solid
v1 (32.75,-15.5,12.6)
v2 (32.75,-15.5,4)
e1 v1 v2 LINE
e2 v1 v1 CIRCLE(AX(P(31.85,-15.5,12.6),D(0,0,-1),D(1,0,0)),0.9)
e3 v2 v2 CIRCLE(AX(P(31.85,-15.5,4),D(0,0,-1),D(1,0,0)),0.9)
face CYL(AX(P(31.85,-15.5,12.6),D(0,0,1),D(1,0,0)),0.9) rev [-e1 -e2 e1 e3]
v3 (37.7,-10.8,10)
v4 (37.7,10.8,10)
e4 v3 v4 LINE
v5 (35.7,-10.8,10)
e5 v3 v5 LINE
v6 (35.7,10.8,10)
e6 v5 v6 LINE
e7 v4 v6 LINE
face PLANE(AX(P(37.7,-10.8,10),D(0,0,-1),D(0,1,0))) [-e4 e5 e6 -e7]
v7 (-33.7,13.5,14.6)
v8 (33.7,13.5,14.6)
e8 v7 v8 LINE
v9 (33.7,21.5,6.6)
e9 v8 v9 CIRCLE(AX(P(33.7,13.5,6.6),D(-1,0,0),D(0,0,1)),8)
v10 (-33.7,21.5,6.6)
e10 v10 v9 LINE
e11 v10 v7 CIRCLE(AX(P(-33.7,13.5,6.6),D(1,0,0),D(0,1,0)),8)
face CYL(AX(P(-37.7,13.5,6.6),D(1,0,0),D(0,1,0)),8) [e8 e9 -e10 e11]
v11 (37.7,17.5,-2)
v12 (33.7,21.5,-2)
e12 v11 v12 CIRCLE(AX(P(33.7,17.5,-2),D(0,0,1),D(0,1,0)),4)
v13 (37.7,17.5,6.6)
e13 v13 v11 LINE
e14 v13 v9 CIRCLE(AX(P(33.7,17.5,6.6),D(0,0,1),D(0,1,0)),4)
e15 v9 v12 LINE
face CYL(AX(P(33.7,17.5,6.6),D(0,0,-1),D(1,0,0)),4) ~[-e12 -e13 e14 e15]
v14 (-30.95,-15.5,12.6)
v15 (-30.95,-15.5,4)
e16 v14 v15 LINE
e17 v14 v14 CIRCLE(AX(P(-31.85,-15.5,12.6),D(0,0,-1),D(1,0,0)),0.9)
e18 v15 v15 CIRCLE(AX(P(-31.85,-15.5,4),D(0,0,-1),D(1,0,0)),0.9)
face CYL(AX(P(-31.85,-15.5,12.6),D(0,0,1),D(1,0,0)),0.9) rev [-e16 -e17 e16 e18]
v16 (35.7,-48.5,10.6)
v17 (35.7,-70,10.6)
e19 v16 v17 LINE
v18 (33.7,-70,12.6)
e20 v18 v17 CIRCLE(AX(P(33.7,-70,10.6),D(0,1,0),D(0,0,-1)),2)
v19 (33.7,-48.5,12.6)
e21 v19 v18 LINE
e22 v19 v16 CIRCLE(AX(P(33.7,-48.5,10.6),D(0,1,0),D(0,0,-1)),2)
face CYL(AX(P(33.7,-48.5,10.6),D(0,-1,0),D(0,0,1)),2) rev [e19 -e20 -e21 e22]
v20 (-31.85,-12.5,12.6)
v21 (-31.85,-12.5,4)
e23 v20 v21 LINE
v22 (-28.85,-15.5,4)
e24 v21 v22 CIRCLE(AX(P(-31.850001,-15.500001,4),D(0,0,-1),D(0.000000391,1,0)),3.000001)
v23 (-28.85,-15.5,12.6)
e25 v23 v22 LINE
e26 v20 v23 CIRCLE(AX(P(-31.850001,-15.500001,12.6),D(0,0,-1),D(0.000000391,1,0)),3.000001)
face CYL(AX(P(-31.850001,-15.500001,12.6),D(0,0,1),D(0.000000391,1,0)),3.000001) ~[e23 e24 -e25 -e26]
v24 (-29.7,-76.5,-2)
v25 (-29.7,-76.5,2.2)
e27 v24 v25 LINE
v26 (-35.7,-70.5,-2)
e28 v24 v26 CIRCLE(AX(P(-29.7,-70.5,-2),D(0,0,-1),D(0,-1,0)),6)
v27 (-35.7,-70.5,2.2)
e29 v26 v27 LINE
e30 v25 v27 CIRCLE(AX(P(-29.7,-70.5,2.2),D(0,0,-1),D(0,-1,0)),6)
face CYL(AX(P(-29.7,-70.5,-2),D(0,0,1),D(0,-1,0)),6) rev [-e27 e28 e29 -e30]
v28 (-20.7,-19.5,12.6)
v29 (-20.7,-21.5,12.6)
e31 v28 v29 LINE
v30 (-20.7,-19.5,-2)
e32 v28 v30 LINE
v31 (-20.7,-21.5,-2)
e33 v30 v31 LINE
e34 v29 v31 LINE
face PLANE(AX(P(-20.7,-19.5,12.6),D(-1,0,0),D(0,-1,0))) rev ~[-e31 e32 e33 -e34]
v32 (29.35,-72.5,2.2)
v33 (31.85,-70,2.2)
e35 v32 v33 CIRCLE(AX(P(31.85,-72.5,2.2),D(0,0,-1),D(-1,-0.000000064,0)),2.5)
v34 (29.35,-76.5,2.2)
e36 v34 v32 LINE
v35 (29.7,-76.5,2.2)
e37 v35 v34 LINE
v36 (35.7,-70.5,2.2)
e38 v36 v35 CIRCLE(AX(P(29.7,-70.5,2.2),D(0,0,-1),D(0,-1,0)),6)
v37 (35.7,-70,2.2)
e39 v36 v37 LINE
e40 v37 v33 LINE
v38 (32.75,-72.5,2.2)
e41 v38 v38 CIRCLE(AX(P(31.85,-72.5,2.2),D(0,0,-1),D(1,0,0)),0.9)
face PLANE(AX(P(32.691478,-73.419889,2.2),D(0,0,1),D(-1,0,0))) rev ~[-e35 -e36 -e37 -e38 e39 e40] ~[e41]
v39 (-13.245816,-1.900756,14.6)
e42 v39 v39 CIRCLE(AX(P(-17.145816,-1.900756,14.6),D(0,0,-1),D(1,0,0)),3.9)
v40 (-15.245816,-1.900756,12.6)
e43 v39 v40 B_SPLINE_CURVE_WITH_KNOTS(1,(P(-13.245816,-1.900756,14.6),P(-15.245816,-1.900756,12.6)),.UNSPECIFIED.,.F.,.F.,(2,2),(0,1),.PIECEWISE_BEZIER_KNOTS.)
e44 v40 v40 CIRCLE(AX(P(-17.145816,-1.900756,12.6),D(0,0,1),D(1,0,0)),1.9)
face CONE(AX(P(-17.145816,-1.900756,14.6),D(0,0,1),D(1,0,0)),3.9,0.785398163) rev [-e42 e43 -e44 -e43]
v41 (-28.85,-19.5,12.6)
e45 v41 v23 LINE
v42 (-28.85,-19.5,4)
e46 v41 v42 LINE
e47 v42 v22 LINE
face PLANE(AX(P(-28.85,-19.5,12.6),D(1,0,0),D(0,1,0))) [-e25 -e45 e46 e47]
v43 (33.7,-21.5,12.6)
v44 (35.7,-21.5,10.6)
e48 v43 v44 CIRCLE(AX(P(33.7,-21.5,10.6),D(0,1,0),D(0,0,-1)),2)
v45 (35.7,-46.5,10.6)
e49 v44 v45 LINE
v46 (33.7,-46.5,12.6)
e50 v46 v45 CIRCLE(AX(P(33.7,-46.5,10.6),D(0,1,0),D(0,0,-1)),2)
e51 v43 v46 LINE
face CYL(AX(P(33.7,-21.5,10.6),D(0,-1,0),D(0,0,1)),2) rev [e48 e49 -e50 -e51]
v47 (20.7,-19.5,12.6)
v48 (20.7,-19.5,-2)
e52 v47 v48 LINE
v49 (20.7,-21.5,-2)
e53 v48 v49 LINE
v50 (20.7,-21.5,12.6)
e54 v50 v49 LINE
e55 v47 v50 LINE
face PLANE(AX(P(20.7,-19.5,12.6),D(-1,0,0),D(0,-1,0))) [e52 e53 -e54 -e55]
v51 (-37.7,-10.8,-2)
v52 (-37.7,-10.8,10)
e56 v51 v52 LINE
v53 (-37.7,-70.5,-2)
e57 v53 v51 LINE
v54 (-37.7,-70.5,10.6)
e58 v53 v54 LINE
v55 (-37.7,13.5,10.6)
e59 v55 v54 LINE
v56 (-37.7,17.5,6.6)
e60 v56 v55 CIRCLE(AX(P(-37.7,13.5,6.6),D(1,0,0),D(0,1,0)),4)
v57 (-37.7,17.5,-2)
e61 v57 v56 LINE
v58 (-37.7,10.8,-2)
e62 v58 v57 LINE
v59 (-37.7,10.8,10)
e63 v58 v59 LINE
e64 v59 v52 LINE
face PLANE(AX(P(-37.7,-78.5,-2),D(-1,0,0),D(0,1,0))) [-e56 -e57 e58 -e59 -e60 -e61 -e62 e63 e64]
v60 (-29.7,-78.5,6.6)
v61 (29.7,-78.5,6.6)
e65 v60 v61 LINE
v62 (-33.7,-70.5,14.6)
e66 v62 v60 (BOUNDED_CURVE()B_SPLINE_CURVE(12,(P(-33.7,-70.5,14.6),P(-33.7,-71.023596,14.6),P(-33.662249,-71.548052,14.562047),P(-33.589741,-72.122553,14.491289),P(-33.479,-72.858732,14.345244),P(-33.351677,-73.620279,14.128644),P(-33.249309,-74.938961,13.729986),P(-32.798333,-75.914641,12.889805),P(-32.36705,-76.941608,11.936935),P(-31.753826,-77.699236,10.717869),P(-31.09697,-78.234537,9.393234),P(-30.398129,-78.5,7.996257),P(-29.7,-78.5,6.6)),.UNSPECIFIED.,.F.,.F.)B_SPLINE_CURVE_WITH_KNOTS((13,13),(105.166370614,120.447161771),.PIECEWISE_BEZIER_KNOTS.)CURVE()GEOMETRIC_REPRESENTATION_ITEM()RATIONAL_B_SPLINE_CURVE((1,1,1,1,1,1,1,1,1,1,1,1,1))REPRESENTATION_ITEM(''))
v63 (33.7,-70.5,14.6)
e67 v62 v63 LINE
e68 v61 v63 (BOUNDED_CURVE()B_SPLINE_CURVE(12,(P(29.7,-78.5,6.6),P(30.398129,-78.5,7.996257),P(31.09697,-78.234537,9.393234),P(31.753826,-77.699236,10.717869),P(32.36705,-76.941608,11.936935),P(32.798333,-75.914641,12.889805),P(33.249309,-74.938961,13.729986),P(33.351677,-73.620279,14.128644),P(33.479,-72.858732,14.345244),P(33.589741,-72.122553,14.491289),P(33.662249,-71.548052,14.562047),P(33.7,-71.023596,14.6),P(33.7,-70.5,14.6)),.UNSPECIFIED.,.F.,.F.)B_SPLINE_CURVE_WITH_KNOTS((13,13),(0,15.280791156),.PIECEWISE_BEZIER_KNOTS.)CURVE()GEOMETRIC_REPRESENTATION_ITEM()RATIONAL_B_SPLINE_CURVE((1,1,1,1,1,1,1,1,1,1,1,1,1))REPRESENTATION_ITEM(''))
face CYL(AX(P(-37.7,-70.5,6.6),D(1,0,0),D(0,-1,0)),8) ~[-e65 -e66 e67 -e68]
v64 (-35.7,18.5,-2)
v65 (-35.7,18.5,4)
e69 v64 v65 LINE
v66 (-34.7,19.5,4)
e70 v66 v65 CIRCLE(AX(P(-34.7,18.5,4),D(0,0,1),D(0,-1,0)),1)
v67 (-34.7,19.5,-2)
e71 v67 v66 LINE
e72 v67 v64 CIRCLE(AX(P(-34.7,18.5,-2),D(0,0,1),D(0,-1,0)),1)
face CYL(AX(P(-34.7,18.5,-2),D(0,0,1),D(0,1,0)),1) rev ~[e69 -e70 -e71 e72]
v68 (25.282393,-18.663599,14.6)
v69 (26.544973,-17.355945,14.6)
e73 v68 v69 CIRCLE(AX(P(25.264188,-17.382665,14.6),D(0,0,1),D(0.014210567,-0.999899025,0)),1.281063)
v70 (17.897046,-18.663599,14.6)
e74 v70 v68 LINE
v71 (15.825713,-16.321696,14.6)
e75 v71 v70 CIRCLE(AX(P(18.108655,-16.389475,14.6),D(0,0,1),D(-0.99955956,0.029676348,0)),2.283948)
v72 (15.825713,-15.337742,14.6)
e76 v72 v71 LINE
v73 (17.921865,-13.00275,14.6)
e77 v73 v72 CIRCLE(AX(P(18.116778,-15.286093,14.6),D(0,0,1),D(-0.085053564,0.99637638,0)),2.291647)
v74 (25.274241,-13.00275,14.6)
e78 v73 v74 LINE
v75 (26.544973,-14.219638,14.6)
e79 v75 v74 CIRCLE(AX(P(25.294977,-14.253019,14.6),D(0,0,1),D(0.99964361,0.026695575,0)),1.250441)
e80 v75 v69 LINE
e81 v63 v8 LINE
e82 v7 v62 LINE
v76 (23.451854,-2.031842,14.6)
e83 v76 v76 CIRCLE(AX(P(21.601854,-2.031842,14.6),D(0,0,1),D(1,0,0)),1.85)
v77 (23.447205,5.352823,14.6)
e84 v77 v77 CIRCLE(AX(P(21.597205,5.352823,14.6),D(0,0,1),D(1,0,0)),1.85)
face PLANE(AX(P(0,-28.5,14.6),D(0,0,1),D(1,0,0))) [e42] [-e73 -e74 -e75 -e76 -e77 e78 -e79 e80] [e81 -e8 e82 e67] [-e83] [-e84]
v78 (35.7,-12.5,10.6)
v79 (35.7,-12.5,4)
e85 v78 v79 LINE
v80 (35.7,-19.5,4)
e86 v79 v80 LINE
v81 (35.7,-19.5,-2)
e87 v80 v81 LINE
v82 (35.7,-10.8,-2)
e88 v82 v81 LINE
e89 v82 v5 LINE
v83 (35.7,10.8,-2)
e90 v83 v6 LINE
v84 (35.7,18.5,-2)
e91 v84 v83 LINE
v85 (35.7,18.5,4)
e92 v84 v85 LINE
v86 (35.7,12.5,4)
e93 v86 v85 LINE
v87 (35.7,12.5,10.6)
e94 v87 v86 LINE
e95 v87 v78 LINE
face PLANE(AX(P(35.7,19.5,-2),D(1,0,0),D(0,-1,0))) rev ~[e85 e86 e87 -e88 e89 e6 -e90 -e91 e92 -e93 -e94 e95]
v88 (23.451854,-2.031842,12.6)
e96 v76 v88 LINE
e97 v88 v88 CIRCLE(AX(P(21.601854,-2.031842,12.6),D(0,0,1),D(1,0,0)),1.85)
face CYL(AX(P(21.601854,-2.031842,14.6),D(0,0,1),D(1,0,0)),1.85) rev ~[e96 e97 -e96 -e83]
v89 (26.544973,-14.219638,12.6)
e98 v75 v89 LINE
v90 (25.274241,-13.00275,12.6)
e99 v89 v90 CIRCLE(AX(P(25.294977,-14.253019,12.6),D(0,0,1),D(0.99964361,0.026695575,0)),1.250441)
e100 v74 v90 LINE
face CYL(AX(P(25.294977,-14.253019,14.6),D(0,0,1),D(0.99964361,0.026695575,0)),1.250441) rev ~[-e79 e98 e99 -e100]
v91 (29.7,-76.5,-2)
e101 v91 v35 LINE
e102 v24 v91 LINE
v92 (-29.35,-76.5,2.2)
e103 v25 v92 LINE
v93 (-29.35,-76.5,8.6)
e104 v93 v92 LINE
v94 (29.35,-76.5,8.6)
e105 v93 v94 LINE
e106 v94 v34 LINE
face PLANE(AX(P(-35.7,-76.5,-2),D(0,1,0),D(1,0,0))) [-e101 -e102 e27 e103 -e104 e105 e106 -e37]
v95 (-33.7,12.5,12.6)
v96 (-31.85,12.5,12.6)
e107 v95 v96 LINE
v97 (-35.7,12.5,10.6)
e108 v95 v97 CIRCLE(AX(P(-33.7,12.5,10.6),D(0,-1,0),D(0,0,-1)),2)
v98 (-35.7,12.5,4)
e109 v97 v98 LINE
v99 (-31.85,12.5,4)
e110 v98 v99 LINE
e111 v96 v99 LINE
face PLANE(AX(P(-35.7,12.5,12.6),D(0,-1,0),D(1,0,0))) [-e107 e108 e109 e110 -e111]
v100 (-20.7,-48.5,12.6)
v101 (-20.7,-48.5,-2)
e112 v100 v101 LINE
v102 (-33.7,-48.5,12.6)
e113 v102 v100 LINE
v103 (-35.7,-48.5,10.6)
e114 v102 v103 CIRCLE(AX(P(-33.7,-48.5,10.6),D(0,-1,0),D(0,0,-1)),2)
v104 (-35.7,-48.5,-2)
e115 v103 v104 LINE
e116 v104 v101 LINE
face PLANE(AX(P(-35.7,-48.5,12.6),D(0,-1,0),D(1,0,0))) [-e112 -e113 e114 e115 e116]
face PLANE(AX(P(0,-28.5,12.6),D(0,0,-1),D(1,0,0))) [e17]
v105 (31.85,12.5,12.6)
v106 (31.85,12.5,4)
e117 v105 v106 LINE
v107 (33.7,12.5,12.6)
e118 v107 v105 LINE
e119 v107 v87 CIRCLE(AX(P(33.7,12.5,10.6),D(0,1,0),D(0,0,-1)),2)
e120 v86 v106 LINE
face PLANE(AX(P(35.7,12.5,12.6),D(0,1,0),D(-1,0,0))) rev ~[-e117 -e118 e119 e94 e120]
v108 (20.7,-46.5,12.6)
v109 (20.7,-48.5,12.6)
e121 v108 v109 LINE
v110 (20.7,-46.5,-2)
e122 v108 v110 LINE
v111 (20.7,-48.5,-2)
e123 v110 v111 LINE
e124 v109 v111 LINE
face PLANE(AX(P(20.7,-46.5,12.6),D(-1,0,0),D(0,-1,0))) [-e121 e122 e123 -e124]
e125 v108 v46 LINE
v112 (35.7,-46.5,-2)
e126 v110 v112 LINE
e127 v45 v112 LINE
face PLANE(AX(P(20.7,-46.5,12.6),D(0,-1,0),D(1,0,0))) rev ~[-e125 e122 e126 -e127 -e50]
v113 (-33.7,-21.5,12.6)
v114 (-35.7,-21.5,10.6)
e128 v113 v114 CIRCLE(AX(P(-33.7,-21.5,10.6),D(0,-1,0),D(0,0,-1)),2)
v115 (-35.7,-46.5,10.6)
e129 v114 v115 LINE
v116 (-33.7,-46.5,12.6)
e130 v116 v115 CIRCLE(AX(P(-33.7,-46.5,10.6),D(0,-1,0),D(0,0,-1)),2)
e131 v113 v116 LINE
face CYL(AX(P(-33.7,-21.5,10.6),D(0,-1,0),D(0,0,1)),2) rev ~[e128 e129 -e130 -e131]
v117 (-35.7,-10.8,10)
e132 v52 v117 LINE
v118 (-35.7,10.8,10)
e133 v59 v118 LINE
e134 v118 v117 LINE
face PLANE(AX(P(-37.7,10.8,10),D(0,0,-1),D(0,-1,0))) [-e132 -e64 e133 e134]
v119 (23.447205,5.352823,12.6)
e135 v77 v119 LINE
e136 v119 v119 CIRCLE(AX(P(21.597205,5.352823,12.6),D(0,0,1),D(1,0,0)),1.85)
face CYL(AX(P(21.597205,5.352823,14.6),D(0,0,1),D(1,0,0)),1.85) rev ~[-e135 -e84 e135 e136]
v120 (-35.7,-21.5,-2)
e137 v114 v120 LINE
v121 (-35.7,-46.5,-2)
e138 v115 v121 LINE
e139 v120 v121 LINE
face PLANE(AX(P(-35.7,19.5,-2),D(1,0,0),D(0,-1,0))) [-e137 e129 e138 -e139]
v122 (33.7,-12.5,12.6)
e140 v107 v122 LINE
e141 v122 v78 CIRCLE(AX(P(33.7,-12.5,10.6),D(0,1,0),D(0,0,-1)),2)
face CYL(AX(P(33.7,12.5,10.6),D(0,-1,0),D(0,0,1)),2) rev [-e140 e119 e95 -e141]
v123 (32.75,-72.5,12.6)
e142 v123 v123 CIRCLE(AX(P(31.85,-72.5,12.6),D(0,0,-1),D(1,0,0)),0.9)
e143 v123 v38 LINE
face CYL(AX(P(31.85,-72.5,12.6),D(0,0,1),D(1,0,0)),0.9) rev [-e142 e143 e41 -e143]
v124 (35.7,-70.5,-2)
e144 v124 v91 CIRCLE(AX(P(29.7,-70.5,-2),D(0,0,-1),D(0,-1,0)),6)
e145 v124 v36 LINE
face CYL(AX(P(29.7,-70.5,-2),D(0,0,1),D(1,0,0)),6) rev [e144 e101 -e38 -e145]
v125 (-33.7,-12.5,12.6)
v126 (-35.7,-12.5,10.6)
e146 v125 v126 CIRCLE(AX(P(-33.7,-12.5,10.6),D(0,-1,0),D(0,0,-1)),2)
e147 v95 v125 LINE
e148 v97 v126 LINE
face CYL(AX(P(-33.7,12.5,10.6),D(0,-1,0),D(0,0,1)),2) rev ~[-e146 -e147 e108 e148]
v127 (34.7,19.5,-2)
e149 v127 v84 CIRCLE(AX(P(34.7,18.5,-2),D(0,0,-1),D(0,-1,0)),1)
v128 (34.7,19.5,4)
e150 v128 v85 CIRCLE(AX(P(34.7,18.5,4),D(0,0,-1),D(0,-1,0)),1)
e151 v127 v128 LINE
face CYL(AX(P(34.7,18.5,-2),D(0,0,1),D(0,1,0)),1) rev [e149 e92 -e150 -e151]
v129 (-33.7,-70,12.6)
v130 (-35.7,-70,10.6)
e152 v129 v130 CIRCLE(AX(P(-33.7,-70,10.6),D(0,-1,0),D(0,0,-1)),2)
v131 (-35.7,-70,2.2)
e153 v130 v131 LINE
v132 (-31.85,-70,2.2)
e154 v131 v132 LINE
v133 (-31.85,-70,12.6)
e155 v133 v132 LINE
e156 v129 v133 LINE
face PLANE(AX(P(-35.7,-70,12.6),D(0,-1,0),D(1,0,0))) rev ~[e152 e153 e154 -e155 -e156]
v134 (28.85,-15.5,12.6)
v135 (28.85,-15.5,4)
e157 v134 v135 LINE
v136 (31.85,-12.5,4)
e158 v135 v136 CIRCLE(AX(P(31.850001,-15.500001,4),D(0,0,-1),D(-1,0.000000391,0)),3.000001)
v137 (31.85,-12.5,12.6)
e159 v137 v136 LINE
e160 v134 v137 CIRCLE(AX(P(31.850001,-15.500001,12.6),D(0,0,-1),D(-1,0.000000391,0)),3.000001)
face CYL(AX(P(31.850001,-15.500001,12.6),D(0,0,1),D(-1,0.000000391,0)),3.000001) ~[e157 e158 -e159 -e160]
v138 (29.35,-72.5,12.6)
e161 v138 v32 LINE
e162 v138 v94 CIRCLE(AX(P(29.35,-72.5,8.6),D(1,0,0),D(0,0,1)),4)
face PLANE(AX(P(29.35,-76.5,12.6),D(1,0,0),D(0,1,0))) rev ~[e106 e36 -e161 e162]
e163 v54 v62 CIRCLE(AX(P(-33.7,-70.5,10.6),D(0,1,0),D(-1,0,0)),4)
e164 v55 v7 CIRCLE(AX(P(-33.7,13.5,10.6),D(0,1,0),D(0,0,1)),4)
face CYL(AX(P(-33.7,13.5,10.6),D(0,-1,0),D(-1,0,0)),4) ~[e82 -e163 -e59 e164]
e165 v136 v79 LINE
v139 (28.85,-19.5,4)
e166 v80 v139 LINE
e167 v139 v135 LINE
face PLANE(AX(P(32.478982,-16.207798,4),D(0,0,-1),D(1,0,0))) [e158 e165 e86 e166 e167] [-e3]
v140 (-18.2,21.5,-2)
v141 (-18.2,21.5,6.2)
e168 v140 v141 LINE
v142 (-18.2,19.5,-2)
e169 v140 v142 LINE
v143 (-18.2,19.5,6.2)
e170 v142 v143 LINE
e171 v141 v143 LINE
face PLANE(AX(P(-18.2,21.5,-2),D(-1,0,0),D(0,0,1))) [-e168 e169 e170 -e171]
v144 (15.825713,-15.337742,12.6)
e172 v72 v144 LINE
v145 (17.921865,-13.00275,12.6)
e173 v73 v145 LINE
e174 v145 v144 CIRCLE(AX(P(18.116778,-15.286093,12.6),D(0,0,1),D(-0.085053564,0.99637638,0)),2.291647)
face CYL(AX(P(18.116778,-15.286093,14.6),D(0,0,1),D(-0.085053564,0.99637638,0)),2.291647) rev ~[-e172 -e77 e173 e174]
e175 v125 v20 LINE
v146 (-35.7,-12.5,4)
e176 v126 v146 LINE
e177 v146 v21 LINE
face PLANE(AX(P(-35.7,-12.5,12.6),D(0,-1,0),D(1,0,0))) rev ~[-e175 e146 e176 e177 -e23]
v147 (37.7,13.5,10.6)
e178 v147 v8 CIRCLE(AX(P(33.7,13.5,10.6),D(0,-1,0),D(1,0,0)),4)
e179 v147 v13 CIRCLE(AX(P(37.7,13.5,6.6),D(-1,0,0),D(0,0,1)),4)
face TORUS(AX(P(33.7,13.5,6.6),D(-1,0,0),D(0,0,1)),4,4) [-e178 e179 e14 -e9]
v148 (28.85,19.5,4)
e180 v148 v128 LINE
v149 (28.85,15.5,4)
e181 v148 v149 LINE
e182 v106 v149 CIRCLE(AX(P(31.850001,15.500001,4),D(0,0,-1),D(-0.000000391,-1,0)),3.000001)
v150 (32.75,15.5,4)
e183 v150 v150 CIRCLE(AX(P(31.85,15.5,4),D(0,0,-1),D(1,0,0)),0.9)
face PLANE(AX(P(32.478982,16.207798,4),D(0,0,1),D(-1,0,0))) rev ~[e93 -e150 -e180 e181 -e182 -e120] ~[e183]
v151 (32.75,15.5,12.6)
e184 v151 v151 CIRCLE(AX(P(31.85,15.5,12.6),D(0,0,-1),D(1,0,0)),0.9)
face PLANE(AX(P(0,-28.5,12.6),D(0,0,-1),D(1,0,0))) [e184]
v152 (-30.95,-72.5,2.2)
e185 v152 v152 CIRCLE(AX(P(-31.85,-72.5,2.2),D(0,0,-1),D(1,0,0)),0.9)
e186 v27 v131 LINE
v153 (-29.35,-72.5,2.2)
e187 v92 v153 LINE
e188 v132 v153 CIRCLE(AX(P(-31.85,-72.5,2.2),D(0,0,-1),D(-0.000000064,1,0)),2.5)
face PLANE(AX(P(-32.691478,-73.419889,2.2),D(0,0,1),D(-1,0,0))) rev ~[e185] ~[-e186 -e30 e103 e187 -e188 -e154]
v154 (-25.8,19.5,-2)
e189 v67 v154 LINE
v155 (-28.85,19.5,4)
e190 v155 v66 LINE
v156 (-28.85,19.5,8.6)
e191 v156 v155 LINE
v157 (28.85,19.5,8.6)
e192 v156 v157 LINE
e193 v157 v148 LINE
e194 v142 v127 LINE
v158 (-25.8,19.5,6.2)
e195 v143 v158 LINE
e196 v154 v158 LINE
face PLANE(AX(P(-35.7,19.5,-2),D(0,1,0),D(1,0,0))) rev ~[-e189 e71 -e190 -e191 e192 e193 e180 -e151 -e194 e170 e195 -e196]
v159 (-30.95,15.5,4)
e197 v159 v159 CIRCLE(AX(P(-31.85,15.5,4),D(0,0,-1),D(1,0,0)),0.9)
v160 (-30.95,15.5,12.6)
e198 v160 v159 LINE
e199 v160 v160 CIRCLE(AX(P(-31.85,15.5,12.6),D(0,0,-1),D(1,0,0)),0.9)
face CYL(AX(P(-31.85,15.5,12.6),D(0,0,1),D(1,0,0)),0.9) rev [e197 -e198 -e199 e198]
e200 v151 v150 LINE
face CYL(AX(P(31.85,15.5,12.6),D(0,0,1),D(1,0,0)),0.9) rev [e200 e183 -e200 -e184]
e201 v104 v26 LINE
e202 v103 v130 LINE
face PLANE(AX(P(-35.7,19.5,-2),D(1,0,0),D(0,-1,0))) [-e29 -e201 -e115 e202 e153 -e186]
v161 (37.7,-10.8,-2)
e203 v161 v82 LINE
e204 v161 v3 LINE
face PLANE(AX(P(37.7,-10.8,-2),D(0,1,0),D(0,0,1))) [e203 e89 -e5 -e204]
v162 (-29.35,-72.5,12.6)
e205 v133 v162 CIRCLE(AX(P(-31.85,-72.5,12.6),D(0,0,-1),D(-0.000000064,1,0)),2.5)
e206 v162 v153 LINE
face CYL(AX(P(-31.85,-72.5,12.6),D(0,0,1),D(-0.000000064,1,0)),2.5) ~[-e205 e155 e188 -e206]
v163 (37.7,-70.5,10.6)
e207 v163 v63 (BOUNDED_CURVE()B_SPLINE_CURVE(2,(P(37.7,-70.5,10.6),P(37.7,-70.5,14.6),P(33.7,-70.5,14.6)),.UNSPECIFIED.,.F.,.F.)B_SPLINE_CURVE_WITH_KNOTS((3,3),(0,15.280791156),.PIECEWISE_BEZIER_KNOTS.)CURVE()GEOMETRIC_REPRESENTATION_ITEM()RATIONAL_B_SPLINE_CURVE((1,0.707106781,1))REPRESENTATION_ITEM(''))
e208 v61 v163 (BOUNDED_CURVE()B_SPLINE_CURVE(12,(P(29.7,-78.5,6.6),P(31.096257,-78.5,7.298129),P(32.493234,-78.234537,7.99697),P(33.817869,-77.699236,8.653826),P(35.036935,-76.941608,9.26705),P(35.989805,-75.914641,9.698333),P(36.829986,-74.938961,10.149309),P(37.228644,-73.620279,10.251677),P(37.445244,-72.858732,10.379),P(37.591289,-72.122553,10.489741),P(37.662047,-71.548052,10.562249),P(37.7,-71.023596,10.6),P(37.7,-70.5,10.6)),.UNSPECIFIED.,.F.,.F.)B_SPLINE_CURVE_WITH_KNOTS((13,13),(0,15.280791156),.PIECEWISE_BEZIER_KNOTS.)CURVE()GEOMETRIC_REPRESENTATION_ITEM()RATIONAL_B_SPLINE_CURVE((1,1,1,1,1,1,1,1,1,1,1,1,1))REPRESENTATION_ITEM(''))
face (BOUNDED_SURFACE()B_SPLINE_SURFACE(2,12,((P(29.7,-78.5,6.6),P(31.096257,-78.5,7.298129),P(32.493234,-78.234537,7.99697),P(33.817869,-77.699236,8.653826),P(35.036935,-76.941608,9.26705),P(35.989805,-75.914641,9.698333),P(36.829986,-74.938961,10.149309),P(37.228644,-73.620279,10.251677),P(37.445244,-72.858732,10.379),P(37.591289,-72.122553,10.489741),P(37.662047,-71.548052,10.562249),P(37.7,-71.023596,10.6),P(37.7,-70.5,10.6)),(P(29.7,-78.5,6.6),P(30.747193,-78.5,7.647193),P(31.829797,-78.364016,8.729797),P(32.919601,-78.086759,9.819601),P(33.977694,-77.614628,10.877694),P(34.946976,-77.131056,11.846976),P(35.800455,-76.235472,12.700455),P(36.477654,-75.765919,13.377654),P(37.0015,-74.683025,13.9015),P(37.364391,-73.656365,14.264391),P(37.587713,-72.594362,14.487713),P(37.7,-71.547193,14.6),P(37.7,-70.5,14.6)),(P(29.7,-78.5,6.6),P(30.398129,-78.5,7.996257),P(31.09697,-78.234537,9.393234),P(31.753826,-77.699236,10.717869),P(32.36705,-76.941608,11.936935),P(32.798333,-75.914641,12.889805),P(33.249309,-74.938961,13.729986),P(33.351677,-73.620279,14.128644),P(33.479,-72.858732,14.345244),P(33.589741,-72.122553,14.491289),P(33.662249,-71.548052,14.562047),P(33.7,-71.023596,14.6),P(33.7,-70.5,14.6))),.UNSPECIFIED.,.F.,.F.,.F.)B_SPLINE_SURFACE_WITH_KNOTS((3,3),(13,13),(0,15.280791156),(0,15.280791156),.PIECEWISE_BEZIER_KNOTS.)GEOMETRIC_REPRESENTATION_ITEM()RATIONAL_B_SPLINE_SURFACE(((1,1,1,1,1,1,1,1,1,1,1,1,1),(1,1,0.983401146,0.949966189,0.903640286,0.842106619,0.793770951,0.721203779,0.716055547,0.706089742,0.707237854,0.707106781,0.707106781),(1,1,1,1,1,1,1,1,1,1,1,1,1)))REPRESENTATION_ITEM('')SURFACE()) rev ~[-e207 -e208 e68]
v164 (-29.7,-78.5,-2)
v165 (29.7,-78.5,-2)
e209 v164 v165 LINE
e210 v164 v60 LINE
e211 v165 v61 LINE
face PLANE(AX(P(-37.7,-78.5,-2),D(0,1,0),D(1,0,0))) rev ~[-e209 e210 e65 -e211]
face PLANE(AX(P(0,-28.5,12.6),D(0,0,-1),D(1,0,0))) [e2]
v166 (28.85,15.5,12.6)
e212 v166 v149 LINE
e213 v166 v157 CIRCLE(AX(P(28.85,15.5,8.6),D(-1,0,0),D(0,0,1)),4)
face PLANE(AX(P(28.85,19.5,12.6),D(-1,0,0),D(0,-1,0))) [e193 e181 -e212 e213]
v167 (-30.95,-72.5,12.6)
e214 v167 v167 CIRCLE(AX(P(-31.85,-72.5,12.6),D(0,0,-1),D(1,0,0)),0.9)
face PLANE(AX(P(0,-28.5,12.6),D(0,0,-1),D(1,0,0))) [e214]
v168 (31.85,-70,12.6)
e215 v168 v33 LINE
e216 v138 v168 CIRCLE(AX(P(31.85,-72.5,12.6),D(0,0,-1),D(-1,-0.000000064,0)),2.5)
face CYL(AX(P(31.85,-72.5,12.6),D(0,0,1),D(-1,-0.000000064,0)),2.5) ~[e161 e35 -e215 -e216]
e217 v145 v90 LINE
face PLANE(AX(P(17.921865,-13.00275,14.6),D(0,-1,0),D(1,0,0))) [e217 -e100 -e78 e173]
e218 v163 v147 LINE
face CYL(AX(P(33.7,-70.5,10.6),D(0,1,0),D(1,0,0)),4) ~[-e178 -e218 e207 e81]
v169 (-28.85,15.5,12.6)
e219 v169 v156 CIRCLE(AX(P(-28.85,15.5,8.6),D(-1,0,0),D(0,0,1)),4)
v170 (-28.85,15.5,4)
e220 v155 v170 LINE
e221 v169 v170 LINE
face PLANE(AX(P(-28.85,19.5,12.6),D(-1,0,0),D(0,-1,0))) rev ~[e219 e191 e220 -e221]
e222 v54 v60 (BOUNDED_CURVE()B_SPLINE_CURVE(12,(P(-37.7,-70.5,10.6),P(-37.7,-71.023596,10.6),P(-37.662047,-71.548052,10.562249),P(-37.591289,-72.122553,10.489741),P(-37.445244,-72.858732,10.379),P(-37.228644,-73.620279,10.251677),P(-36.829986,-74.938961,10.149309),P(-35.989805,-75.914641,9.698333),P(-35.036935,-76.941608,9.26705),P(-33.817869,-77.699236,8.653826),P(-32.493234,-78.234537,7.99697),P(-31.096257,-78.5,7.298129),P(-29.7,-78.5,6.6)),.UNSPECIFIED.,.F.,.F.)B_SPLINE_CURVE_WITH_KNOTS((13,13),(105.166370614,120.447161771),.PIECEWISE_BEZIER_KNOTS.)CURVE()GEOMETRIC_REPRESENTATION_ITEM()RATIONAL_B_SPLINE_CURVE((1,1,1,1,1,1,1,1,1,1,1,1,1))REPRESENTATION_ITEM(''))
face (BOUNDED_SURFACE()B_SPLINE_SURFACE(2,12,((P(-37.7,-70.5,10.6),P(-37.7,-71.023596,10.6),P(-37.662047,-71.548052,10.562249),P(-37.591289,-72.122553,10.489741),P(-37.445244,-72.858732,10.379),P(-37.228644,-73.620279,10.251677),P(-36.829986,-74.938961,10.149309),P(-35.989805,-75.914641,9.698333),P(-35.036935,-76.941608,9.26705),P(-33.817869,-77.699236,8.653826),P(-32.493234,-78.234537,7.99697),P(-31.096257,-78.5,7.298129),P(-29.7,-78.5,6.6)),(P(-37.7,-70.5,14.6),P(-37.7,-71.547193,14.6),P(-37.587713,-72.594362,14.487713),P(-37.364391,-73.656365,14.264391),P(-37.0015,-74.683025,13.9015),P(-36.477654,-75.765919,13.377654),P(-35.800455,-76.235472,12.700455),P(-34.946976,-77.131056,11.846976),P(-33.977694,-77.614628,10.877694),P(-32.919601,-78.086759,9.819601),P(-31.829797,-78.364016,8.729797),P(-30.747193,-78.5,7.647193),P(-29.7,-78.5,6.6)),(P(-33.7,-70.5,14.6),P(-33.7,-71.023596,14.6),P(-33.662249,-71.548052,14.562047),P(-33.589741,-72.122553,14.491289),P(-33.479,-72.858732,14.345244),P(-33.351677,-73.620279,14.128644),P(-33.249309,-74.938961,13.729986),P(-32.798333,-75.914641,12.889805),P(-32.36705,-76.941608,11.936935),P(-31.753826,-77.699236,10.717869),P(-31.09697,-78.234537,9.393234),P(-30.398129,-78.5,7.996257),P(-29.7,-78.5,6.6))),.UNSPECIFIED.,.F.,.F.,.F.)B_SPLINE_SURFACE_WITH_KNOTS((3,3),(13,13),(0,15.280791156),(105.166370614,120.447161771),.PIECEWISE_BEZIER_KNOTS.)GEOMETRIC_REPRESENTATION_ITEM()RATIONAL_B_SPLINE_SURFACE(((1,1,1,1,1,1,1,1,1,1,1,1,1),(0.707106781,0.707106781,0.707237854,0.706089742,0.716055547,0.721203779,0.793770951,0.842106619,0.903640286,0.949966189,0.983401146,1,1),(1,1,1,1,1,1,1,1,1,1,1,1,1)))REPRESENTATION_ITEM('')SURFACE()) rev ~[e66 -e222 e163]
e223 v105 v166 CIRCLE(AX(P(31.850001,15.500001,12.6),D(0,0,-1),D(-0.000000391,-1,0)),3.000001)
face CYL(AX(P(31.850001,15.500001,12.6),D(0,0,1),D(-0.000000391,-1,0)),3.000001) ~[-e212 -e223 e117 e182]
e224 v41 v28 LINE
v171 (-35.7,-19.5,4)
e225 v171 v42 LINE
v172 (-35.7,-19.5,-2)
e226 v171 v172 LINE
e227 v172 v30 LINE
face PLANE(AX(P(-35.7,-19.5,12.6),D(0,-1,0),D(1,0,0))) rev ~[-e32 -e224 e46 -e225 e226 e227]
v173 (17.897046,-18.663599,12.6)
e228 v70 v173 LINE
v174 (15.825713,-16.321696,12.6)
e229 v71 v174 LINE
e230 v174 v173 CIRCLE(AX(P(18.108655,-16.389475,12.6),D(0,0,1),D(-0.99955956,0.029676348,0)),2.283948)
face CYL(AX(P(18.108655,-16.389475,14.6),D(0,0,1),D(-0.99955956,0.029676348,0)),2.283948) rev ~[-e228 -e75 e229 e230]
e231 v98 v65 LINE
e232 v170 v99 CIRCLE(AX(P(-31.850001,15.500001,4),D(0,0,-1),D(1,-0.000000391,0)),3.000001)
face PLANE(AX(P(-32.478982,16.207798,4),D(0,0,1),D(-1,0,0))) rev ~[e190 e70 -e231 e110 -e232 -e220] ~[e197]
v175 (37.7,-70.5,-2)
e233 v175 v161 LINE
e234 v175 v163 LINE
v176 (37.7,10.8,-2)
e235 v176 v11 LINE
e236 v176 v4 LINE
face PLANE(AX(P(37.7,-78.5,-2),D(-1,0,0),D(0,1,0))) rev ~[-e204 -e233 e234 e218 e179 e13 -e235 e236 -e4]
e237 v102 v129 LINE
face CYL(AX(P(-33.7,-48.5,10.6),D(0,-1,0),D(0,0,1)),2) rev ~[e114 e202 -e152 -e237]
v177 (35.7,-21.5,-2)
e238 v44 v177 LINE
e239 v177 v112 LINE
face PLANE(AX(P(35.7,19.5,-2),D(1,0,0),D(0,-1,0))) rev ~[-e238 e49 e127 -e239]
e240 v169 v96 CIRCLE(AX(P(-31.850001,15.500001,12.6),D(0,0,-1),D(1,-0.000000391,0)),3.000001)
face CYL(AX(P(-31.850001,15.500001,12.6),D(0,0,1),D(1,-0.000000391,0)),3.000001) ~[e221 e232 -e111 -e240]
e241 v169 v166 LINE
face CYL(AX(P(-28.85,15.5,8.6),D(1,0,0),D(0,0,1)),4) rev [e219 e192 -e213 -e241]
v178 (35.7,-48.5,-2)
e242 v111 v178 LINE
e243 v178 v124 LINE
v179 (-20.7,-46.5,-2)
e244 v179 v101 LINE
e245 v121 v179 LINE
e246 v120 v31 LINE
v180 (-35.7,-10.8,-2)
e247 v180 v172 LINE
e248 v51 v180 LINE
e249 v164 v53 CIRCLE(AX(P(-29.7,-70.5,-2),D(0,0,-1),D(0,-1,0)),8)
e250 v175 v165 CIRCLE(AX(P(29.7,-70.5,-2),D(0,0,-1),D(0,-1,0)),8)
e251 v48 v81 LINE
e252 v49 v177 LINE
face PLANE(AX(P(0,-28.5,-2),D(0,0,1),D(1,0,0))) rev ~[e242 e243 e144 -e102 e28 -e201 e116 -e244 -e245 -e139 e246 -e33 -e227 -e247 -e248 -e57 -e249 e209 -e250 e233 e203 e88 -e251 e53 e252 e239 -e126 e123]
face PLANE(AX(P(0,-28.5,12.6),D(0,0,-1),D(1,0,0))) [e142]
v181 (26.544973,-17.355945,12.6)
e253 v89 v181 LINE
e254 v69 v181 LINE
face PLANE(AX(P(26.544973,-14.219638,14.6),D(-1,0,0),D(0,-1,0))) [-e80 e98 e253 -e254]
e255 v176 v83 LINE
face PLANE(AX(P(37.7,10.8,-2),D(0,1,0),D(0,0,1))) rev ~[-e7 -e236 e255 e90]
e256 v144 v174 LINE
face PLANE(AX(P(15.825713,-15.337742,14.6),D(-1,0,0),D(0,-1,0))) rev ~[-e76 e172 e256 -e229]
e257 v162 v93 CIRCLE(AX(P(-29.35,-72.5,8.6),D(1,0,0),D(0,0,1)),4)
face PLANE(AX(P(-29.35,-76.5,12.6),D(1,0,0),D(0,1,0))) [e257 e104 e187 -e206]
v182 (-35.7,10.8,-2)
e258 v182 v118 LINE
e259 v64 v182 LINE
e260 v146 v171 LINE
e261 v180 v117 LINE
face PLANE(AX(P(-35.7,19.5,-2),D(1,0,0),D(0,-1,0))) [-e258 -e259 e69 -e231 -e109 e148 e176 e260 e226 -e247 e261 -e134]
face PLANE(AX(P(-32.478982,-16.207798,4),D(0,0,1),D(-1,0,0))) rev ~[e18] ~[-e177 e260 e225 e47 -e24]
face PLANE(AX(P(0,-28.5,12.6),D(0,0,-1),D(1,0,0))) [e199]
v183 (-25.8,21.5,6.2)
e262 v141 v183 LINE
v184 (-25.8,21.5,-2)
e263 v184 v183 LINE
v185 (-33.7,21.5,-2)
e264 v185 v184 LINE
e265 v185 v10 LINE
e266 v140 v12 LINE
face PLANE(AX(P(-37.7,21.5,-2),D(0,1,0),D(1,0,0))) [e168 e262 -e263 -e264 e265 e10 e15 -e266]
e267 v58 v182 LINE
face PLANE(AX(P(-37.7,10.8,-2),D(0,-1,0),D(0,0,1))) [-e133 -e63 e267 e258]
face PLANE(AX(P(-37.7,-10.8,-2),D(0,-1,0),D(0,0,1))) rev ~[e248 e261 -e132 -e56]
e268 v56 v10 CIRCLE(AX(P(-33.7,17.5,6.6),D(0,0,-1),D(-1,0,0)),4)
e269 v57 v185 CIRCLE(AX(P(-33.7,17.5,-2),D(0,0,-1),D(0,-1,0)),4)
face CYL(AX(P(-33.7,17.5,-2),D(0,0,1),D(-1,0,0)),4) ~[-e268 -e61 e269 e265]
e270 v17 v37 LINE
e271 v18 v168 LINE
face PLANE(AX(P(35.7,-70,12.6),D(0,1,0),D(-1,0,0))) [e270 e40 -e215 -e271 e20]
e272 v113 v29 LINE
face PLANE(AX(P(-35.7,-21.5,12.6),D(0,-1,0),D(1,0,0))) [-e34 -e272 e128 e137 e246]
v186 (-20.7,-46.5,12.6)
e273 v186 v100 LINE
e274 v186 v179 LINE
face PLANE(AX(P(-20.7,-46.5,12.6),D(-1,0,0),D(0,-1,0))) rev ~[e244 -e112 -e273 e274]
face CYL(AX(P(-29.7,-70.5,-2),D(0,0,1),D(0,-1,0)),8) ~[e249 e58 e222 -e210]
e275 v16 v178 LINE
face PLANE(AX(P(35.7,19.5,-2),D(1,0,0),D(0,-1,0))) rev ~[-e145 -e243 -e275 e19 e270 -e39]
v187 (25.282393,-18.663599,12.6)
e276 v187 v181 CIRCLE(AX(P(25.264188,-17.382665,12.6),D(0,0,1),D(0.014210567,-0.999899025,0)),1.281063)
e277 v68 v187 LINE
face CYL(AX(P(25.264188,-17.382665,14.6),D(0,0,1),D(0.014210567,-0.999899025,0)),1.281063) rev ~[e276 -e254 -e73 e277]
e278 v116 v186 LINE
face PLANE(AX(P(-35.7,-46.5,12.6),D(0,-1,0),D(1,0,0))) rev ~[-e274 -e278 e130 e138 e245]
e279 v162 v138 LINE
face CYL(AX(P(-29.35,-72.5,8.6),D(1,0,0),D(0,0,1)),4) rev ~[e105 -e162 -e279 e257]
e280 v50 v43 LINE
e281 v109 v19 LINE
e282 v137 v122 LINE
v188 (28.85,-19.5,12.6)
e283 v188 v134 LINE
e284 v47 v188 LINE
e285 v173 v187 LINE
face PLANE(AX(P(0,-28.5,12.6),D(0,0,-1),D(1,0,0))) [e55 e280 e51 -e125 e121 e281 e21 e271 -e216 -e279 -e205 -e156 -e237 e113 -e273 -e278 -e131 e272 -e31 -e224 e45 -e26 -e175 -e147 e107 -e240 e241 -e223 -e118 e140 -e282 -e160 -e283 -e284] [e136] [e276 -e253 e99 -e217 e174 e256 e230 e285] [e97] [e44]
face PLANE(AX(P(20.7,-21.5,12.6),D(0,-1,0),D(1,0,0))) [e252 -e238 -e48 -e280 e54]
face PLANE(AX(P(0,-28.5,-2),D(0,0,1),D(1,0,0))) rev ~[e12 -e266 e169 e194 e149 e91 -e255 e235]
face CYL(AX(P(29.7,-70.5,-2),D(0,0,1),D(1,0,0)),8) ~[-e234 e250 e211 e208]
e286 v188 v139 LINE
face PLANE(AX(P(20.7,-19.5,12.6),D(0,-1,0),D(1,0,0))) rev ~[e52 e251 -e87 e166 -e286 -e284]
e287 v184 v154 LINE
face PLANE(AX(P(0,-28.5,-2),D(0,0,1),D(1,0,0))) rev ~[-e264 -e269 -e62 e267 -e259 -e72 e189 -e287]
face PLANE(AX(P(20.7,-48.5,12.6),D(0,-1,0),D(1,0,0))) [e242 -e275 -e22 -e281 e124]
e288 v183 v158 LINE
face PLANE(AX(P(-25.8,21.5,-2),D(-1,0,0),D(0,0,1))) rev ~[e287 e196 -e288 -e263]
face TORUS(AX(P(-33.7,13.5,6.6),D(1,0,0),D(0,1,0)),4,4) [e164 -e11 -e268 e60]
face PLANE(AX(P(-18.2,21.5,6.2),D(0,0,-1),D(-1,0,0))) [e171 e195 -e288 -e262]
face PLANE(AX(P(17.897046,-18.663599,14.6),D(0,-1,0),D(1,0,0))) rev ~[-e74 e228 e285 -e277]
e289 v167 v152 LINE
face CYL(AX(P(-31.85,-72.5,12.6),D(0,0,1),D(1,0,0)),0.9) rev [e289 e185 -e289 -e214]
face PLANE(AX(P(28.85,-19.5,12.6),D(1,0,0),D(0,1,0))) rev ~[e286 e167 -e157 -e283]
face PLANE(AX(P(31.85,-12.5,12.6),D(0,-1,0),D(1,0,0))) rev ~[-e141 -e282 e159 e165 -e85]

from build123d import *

# Parameters (mm, degrees)
SKETCH_W        = 75.4
SKETCH_H        = 100
PAD_DEPTH       = 16.6
SKETCH005_W     = 71.4
SKETCH005_H     = 96
POCKET_DEPTH    = 14.6
SKETCH006_W     = 21.6
SKETCH006_H     = 12
POCKET001_DEPTH = 2
SKETCH007_W     = 21.6
SKETCH007_H     = 12
POCKET002_DEPTH = 2
SKETCH008_W     = 7.6
SKETCH008_H     = 8.2
POCKET003_DEPTH = 2
SKETCH009_R     = 1.85
POCKET004_DEPTH = 2
SKETCH010_R     = 3.9
POCKET005_DEPTH = 2
POCKET005_TAPER = 45
SKETCH011_W     = 15
SKETCH011_H     = 2
PAD005_DEPTH    = 14.6
SKETCH012_R     = 0.9
PAD006_DEPTH    = 8.6
SKETCH013_R     = 0.9
PAD007_DEPTH    = 10.4
FILLET_R        = 2
FILLET001_R     = 4
FILLET002_R     = 1
FILLET003_R     = 6
FILLET004_R     = 8
FILLET005_R     = 4


with BuildPart() as part:
    # Sketch → Pad (new body)
    with BuildSketch(Plane.XY):
        with Locations((0, -28.5)):
            Rectangle(SKETCH_W, SKETCH_H)
    extrude(amount=PAD_DEPTH)

    # Sketch005 (on Face5 of Pad) → Pocket (cut)
    with BuildSketch(Plane(origin=(0, 0, 0), x_dir=(1, 0, 0), z_dir=(0, 0, -1))):
        with Locations((0, 28.5)):
            Rectangle(SKETCH005_W, SKETCH005_H)
    extrude(amount=-POCKET_DEPTH, mode=Mode.SUBTRACT)

    # Sketch006 (on Face3 of Pocket) → Pocket001 (cut)
    with BuildSketch(Plane.YZ.offset(37.7)):
        with Locations((0, 6)):
            Rectangle(SKETCH006_W, SKETCH006_H)
    extrude(amount=-POCKET001_DEPTH, mode=Mode.SUBTRACT)

    # Sketch007 (on Face2 of Pocket) → Pocket002 (cut)
    with BuildSketch(Plane(origin=(-37.7, 0, 0), x_dir=(0, -1, 0), z_dir=(-1, 0, 0))):
        with Locations((0, 6)):
            Rectangle(SKETCH007_W, SKETCH007_H)
    extrude(amount=-POCKET002_DEPTH, mode=Mode.SUBTRACT)

    # Sketch008 (on Face1 of Pocket) → Pocket003 (cut)
    with BuildSketch(Plane(origin=(0, 21.5, 0), x_dir=(-1, 0, 0), z_dir=(0, 1, 0))):
        with Locations((22, 4.1)):
            Rectangle(SKETCH008_W, SKETCH008_H)
    extrude(amount=-POCKET003_DEPTH, mode=Mode.SUBTRACT)

    # Sketch009 (on Face5 of Pocket) → Pocket004 (cut)
    with BuildSketch(Plane.XY.offset(16.6)):
        with Locations((21.601854, -2.031842)):
            Circle(SKETCH009_R)
        with Locations((21.597205, 5.352823)):
            Circle(SKETCH009_R)
        with BuildLine():
            Line((15.825713, -15.337742), (15.825713, -16.321696))
            ThreePointArc((15.825713, -16.321696), (16.397859, -17.902616), (17.897046, -18.663599))
            Line((17.897046, -18.663599), (25.282393, -18.663599))
            ThreePointArc((25.282393, -18.663599), (26.185781, -18.272491), (26.544973, -17.355945))
            Line((26.544973, -14.219638), (26.544973, -17.355945))
            ThreePointArc((26.544973, -14.219638), (26.159832, -13.349897), (25.274241, -13.00275))
            Line((17.921865, -13.00275), (25.274241, -13.00275))
            ThreePointArc((17.921865, -13.00275), (16.411472, -13.755218), (15.825713, -15.337742))
        make_face()
    extrude(amount=-POCKET004_DEPTH, mode=Mode.SUBTRACT)

    # Sketch010 (on Face5 of Pocket) → Pocket005 (cut)
    with BuildSketch(Plane.XY.offset(16.6)):
        with Locations((-17.145816, -1.900756)):
            Circle(SKETCH010_R)
    extrude(amount=-POCKET005_DEPTH, taper=POCKET005_TAPER, mode=Mode.SUBTRACT)

    # Sketch011 (on Face11 of Pocket) → Pad005 (join)
    with BuildSketch(Plane(origin=(0, 0, 14.6), x_dir=(1, 0, 0), z_dir=(0, 0, -1))):
        with Locations((-28.2, 47.5)):
            Rectangle(SKETCH011_W, SKETCH011_H)
        with Locations((-28.2, 20.5)):
            Rectangle(SKETCH011_W, SKETCH011_H)
        with Locations((28.2, 47.5)):
            Rectangle(SKETCH011_W, SKETCH011_H)
        with Locations((28.2, 20.5)):
            Rectangle(SKETCH011_W, SKETCH011_H)
    extrude(amount=PAD005_DEPTH)

    # Sketch012 (on Face11 of Pocket) → Pad006 (join)
    with BuildSketch(Plane(origin=(0, 0, 14.6), x_dir=(1, 0, 0), z_dir=(0, 0, -1))):
        with BuildLine():
            Line((-35.7, -12.5), (-31.85, -12.5))
            ThreePointArc((-28.85, -15.5), (-29.72868, -13.37868), (-31.85, -12.5))
            Line((-28.85, -19.5), (-28.85, -15.5))
            Line((-28.85, -19.5), (-35.7, -19.5))
            Line((-35.7, -12.5), (-35.7, -19.5))
        make_face()
        with Locations((-31.85, -15.5)):
            Circle(SKETCH012_R, mode=Mode.SUBTRACT)
        with BuildLine():
            Line((28.85, -19.5), (28.85, -15.5))
            ThreePointArc((31.85, -12.5), (29.72868, -13.37868), (28.85, -15.5))
            Line((35.7, -12.5), (31.85, -12.5))
            Line((35.7, -12.5), (35.7, -19.5))
            Line((28.85, -19.5), (35.7, -19.5))
        make_face()
        with Locations((31.85, -15.5)):
            Circle(SKETCH012_R, mode=Mode.SUBTRACT)
        with BuildLine():
            Line((-35.7, 12.5), (-35.7, 19.5))
            Line((-35.7, 19.5), (-28.85, 19.5))
            Line((-28.85, 19.5), (-28.85, 15.5))
            ThreePointArc((-31.85, 12.5), (-29.72868, 13.37868), (-28.85, 15.5))
            Line((-35.7, 12.5), (-31.85, 12.5))
        make_face()
        with Locations((-31.85, 15.5)):
            Circle(SKETCH012_R, mode=Mode.SUBTRACT)
        with BuildLine():
            Line((31.85, 12.5), (35.7, 12.5))
            Line((35.7, 12.5), (35.7, 19.5))
            Line((35.7, 19.5), (28.85, 19.5))
            Line((28.85, 19.5), (28.85, 15.5))
            ThreePointArc((28.85, 15.5), (29.72868, 13.37868), (31.85, 12.5))
        make_face()
        with Locations((31.85, 15.5)):
            Circle(SKETCH012_R, mode=Mode.SUBTRACT)
    extrude(amount=PAD006_DEPTH)

    # Sketch013 (on Face11 of Pocket) → Pad007 (join)
    with BuildSketch(Plane(origin=(0, 0, 14.6), x_dir=(1, 0, 0), z_dir=(0, 0, -1))):
        with BuildLine():
            Line((-35.7, 76.5), (-29.35, 76.5))
            Line((-29.35, 76.5), (-29.35, 72.5))
            ThreePointArc((-31.85, 70), (-30.082233, 70.732233), (-29.35, 72.5))
            Line((-35.7, 70), (-31.85, 70))
            Line((-35.7, 76.5), (-35.7, 70))
        make_face()
        with Locations((-31.85, 72.5)):
            Circle(SKETCH013_R, mode=Mode.SUBTRACT)
        with BuildLine():
            Line((35.7, 76.5), (35.7, 70))
            Line((35.7, 70), (31.85, 70))
            ThreePointArc((29.35, 72.5), (30.082233, 70.732233), (31.85, 70))
            Line((29.35, 76.5), (29.35, 72.5))
            Line((35.7, 76.5), (29.35, 76.5))
        make_face()
        with Locations((31.85, 72.5)):
            Circle(SKETCH013_R, mode=Mode.SUBTRACT)
    extrude(amount=PAD007_DEPTH)

    # Fillet
    fillet_edges = [part.edges().sort_by_distance(p)[0] for p in [
        (-35.7, 0, 14.6),
        (-35.7, -34, 14.6),
        (-35.7, -59.25, 14.6),
        (35.7, -59.25, 14.6),
        (35.7, -34, 14.6),
        (35.7, 0, 14.6),
    ]]
    fillet(fillet_edges, radius=FILLET_R)

    # Fillet001
    fillet001_edges = [part.edges().sort_by_distance(p)[0] for p in [
        (0, 19.5, 14.6),
        (0, -76.5, 14.6),
    ]]
    fillet(fillet001_edges, radius=FILLET001_R)

    # Fillet002
    fillet002_edges = [part.edges().sort_by_distance(p)[0] for p in [
        (-35.7, 19.5, 3),
        (35.7, 19.5, 3),
    ]]
    fillet(fillet002_edges, radius=FILLET002_R)

    # Fillet003
    fillet003_edges = [part.edges().sort_by_distance(p)[0] for p in [
        (-35.7, -76.5, 2.1),
        (35.7, -76.5, 2.1),
    ]]
    fillet(fillet003_edges, radius=FILLET003_R)

    # Fillet004
    fillet004_edges = [part.edges().sort_by_distance(p)[0] for p in [
        (37.7, -78.5, 8.3),
        (0, -78.5, 16.6),
        (-37.7, -78.5, 8.3),
        (0, 21.5, 16.6),
    ]]
    fillet(fillet004_edges, radius=FILLET004_R)

    # Fillet005
    fillet005_edges = [part.edges().sort_by_distance(p)[0] for p in [
        (37.7, -28.5, 16.6),
        (37.7, 21.5, 4.3),
        (37.7, 19.156854, 14.256854),
        (-37.7, 21.5, 4.3),
        (-37.7, 19.156854, 14.256854),
        (-37.7, -28.5, 16.6),
        (-34.868391, -76.606368, 13.768391),
        (34.868391, -76.606368, 13.768391),
    ]]
    fillet(fillet005_edges, radius=FILLET005_R)


with BuildPart() as part_1:
    # Body placement: moved
    add(part.part.moved(Location((0, 0, -2))))


solid = part_1.part
